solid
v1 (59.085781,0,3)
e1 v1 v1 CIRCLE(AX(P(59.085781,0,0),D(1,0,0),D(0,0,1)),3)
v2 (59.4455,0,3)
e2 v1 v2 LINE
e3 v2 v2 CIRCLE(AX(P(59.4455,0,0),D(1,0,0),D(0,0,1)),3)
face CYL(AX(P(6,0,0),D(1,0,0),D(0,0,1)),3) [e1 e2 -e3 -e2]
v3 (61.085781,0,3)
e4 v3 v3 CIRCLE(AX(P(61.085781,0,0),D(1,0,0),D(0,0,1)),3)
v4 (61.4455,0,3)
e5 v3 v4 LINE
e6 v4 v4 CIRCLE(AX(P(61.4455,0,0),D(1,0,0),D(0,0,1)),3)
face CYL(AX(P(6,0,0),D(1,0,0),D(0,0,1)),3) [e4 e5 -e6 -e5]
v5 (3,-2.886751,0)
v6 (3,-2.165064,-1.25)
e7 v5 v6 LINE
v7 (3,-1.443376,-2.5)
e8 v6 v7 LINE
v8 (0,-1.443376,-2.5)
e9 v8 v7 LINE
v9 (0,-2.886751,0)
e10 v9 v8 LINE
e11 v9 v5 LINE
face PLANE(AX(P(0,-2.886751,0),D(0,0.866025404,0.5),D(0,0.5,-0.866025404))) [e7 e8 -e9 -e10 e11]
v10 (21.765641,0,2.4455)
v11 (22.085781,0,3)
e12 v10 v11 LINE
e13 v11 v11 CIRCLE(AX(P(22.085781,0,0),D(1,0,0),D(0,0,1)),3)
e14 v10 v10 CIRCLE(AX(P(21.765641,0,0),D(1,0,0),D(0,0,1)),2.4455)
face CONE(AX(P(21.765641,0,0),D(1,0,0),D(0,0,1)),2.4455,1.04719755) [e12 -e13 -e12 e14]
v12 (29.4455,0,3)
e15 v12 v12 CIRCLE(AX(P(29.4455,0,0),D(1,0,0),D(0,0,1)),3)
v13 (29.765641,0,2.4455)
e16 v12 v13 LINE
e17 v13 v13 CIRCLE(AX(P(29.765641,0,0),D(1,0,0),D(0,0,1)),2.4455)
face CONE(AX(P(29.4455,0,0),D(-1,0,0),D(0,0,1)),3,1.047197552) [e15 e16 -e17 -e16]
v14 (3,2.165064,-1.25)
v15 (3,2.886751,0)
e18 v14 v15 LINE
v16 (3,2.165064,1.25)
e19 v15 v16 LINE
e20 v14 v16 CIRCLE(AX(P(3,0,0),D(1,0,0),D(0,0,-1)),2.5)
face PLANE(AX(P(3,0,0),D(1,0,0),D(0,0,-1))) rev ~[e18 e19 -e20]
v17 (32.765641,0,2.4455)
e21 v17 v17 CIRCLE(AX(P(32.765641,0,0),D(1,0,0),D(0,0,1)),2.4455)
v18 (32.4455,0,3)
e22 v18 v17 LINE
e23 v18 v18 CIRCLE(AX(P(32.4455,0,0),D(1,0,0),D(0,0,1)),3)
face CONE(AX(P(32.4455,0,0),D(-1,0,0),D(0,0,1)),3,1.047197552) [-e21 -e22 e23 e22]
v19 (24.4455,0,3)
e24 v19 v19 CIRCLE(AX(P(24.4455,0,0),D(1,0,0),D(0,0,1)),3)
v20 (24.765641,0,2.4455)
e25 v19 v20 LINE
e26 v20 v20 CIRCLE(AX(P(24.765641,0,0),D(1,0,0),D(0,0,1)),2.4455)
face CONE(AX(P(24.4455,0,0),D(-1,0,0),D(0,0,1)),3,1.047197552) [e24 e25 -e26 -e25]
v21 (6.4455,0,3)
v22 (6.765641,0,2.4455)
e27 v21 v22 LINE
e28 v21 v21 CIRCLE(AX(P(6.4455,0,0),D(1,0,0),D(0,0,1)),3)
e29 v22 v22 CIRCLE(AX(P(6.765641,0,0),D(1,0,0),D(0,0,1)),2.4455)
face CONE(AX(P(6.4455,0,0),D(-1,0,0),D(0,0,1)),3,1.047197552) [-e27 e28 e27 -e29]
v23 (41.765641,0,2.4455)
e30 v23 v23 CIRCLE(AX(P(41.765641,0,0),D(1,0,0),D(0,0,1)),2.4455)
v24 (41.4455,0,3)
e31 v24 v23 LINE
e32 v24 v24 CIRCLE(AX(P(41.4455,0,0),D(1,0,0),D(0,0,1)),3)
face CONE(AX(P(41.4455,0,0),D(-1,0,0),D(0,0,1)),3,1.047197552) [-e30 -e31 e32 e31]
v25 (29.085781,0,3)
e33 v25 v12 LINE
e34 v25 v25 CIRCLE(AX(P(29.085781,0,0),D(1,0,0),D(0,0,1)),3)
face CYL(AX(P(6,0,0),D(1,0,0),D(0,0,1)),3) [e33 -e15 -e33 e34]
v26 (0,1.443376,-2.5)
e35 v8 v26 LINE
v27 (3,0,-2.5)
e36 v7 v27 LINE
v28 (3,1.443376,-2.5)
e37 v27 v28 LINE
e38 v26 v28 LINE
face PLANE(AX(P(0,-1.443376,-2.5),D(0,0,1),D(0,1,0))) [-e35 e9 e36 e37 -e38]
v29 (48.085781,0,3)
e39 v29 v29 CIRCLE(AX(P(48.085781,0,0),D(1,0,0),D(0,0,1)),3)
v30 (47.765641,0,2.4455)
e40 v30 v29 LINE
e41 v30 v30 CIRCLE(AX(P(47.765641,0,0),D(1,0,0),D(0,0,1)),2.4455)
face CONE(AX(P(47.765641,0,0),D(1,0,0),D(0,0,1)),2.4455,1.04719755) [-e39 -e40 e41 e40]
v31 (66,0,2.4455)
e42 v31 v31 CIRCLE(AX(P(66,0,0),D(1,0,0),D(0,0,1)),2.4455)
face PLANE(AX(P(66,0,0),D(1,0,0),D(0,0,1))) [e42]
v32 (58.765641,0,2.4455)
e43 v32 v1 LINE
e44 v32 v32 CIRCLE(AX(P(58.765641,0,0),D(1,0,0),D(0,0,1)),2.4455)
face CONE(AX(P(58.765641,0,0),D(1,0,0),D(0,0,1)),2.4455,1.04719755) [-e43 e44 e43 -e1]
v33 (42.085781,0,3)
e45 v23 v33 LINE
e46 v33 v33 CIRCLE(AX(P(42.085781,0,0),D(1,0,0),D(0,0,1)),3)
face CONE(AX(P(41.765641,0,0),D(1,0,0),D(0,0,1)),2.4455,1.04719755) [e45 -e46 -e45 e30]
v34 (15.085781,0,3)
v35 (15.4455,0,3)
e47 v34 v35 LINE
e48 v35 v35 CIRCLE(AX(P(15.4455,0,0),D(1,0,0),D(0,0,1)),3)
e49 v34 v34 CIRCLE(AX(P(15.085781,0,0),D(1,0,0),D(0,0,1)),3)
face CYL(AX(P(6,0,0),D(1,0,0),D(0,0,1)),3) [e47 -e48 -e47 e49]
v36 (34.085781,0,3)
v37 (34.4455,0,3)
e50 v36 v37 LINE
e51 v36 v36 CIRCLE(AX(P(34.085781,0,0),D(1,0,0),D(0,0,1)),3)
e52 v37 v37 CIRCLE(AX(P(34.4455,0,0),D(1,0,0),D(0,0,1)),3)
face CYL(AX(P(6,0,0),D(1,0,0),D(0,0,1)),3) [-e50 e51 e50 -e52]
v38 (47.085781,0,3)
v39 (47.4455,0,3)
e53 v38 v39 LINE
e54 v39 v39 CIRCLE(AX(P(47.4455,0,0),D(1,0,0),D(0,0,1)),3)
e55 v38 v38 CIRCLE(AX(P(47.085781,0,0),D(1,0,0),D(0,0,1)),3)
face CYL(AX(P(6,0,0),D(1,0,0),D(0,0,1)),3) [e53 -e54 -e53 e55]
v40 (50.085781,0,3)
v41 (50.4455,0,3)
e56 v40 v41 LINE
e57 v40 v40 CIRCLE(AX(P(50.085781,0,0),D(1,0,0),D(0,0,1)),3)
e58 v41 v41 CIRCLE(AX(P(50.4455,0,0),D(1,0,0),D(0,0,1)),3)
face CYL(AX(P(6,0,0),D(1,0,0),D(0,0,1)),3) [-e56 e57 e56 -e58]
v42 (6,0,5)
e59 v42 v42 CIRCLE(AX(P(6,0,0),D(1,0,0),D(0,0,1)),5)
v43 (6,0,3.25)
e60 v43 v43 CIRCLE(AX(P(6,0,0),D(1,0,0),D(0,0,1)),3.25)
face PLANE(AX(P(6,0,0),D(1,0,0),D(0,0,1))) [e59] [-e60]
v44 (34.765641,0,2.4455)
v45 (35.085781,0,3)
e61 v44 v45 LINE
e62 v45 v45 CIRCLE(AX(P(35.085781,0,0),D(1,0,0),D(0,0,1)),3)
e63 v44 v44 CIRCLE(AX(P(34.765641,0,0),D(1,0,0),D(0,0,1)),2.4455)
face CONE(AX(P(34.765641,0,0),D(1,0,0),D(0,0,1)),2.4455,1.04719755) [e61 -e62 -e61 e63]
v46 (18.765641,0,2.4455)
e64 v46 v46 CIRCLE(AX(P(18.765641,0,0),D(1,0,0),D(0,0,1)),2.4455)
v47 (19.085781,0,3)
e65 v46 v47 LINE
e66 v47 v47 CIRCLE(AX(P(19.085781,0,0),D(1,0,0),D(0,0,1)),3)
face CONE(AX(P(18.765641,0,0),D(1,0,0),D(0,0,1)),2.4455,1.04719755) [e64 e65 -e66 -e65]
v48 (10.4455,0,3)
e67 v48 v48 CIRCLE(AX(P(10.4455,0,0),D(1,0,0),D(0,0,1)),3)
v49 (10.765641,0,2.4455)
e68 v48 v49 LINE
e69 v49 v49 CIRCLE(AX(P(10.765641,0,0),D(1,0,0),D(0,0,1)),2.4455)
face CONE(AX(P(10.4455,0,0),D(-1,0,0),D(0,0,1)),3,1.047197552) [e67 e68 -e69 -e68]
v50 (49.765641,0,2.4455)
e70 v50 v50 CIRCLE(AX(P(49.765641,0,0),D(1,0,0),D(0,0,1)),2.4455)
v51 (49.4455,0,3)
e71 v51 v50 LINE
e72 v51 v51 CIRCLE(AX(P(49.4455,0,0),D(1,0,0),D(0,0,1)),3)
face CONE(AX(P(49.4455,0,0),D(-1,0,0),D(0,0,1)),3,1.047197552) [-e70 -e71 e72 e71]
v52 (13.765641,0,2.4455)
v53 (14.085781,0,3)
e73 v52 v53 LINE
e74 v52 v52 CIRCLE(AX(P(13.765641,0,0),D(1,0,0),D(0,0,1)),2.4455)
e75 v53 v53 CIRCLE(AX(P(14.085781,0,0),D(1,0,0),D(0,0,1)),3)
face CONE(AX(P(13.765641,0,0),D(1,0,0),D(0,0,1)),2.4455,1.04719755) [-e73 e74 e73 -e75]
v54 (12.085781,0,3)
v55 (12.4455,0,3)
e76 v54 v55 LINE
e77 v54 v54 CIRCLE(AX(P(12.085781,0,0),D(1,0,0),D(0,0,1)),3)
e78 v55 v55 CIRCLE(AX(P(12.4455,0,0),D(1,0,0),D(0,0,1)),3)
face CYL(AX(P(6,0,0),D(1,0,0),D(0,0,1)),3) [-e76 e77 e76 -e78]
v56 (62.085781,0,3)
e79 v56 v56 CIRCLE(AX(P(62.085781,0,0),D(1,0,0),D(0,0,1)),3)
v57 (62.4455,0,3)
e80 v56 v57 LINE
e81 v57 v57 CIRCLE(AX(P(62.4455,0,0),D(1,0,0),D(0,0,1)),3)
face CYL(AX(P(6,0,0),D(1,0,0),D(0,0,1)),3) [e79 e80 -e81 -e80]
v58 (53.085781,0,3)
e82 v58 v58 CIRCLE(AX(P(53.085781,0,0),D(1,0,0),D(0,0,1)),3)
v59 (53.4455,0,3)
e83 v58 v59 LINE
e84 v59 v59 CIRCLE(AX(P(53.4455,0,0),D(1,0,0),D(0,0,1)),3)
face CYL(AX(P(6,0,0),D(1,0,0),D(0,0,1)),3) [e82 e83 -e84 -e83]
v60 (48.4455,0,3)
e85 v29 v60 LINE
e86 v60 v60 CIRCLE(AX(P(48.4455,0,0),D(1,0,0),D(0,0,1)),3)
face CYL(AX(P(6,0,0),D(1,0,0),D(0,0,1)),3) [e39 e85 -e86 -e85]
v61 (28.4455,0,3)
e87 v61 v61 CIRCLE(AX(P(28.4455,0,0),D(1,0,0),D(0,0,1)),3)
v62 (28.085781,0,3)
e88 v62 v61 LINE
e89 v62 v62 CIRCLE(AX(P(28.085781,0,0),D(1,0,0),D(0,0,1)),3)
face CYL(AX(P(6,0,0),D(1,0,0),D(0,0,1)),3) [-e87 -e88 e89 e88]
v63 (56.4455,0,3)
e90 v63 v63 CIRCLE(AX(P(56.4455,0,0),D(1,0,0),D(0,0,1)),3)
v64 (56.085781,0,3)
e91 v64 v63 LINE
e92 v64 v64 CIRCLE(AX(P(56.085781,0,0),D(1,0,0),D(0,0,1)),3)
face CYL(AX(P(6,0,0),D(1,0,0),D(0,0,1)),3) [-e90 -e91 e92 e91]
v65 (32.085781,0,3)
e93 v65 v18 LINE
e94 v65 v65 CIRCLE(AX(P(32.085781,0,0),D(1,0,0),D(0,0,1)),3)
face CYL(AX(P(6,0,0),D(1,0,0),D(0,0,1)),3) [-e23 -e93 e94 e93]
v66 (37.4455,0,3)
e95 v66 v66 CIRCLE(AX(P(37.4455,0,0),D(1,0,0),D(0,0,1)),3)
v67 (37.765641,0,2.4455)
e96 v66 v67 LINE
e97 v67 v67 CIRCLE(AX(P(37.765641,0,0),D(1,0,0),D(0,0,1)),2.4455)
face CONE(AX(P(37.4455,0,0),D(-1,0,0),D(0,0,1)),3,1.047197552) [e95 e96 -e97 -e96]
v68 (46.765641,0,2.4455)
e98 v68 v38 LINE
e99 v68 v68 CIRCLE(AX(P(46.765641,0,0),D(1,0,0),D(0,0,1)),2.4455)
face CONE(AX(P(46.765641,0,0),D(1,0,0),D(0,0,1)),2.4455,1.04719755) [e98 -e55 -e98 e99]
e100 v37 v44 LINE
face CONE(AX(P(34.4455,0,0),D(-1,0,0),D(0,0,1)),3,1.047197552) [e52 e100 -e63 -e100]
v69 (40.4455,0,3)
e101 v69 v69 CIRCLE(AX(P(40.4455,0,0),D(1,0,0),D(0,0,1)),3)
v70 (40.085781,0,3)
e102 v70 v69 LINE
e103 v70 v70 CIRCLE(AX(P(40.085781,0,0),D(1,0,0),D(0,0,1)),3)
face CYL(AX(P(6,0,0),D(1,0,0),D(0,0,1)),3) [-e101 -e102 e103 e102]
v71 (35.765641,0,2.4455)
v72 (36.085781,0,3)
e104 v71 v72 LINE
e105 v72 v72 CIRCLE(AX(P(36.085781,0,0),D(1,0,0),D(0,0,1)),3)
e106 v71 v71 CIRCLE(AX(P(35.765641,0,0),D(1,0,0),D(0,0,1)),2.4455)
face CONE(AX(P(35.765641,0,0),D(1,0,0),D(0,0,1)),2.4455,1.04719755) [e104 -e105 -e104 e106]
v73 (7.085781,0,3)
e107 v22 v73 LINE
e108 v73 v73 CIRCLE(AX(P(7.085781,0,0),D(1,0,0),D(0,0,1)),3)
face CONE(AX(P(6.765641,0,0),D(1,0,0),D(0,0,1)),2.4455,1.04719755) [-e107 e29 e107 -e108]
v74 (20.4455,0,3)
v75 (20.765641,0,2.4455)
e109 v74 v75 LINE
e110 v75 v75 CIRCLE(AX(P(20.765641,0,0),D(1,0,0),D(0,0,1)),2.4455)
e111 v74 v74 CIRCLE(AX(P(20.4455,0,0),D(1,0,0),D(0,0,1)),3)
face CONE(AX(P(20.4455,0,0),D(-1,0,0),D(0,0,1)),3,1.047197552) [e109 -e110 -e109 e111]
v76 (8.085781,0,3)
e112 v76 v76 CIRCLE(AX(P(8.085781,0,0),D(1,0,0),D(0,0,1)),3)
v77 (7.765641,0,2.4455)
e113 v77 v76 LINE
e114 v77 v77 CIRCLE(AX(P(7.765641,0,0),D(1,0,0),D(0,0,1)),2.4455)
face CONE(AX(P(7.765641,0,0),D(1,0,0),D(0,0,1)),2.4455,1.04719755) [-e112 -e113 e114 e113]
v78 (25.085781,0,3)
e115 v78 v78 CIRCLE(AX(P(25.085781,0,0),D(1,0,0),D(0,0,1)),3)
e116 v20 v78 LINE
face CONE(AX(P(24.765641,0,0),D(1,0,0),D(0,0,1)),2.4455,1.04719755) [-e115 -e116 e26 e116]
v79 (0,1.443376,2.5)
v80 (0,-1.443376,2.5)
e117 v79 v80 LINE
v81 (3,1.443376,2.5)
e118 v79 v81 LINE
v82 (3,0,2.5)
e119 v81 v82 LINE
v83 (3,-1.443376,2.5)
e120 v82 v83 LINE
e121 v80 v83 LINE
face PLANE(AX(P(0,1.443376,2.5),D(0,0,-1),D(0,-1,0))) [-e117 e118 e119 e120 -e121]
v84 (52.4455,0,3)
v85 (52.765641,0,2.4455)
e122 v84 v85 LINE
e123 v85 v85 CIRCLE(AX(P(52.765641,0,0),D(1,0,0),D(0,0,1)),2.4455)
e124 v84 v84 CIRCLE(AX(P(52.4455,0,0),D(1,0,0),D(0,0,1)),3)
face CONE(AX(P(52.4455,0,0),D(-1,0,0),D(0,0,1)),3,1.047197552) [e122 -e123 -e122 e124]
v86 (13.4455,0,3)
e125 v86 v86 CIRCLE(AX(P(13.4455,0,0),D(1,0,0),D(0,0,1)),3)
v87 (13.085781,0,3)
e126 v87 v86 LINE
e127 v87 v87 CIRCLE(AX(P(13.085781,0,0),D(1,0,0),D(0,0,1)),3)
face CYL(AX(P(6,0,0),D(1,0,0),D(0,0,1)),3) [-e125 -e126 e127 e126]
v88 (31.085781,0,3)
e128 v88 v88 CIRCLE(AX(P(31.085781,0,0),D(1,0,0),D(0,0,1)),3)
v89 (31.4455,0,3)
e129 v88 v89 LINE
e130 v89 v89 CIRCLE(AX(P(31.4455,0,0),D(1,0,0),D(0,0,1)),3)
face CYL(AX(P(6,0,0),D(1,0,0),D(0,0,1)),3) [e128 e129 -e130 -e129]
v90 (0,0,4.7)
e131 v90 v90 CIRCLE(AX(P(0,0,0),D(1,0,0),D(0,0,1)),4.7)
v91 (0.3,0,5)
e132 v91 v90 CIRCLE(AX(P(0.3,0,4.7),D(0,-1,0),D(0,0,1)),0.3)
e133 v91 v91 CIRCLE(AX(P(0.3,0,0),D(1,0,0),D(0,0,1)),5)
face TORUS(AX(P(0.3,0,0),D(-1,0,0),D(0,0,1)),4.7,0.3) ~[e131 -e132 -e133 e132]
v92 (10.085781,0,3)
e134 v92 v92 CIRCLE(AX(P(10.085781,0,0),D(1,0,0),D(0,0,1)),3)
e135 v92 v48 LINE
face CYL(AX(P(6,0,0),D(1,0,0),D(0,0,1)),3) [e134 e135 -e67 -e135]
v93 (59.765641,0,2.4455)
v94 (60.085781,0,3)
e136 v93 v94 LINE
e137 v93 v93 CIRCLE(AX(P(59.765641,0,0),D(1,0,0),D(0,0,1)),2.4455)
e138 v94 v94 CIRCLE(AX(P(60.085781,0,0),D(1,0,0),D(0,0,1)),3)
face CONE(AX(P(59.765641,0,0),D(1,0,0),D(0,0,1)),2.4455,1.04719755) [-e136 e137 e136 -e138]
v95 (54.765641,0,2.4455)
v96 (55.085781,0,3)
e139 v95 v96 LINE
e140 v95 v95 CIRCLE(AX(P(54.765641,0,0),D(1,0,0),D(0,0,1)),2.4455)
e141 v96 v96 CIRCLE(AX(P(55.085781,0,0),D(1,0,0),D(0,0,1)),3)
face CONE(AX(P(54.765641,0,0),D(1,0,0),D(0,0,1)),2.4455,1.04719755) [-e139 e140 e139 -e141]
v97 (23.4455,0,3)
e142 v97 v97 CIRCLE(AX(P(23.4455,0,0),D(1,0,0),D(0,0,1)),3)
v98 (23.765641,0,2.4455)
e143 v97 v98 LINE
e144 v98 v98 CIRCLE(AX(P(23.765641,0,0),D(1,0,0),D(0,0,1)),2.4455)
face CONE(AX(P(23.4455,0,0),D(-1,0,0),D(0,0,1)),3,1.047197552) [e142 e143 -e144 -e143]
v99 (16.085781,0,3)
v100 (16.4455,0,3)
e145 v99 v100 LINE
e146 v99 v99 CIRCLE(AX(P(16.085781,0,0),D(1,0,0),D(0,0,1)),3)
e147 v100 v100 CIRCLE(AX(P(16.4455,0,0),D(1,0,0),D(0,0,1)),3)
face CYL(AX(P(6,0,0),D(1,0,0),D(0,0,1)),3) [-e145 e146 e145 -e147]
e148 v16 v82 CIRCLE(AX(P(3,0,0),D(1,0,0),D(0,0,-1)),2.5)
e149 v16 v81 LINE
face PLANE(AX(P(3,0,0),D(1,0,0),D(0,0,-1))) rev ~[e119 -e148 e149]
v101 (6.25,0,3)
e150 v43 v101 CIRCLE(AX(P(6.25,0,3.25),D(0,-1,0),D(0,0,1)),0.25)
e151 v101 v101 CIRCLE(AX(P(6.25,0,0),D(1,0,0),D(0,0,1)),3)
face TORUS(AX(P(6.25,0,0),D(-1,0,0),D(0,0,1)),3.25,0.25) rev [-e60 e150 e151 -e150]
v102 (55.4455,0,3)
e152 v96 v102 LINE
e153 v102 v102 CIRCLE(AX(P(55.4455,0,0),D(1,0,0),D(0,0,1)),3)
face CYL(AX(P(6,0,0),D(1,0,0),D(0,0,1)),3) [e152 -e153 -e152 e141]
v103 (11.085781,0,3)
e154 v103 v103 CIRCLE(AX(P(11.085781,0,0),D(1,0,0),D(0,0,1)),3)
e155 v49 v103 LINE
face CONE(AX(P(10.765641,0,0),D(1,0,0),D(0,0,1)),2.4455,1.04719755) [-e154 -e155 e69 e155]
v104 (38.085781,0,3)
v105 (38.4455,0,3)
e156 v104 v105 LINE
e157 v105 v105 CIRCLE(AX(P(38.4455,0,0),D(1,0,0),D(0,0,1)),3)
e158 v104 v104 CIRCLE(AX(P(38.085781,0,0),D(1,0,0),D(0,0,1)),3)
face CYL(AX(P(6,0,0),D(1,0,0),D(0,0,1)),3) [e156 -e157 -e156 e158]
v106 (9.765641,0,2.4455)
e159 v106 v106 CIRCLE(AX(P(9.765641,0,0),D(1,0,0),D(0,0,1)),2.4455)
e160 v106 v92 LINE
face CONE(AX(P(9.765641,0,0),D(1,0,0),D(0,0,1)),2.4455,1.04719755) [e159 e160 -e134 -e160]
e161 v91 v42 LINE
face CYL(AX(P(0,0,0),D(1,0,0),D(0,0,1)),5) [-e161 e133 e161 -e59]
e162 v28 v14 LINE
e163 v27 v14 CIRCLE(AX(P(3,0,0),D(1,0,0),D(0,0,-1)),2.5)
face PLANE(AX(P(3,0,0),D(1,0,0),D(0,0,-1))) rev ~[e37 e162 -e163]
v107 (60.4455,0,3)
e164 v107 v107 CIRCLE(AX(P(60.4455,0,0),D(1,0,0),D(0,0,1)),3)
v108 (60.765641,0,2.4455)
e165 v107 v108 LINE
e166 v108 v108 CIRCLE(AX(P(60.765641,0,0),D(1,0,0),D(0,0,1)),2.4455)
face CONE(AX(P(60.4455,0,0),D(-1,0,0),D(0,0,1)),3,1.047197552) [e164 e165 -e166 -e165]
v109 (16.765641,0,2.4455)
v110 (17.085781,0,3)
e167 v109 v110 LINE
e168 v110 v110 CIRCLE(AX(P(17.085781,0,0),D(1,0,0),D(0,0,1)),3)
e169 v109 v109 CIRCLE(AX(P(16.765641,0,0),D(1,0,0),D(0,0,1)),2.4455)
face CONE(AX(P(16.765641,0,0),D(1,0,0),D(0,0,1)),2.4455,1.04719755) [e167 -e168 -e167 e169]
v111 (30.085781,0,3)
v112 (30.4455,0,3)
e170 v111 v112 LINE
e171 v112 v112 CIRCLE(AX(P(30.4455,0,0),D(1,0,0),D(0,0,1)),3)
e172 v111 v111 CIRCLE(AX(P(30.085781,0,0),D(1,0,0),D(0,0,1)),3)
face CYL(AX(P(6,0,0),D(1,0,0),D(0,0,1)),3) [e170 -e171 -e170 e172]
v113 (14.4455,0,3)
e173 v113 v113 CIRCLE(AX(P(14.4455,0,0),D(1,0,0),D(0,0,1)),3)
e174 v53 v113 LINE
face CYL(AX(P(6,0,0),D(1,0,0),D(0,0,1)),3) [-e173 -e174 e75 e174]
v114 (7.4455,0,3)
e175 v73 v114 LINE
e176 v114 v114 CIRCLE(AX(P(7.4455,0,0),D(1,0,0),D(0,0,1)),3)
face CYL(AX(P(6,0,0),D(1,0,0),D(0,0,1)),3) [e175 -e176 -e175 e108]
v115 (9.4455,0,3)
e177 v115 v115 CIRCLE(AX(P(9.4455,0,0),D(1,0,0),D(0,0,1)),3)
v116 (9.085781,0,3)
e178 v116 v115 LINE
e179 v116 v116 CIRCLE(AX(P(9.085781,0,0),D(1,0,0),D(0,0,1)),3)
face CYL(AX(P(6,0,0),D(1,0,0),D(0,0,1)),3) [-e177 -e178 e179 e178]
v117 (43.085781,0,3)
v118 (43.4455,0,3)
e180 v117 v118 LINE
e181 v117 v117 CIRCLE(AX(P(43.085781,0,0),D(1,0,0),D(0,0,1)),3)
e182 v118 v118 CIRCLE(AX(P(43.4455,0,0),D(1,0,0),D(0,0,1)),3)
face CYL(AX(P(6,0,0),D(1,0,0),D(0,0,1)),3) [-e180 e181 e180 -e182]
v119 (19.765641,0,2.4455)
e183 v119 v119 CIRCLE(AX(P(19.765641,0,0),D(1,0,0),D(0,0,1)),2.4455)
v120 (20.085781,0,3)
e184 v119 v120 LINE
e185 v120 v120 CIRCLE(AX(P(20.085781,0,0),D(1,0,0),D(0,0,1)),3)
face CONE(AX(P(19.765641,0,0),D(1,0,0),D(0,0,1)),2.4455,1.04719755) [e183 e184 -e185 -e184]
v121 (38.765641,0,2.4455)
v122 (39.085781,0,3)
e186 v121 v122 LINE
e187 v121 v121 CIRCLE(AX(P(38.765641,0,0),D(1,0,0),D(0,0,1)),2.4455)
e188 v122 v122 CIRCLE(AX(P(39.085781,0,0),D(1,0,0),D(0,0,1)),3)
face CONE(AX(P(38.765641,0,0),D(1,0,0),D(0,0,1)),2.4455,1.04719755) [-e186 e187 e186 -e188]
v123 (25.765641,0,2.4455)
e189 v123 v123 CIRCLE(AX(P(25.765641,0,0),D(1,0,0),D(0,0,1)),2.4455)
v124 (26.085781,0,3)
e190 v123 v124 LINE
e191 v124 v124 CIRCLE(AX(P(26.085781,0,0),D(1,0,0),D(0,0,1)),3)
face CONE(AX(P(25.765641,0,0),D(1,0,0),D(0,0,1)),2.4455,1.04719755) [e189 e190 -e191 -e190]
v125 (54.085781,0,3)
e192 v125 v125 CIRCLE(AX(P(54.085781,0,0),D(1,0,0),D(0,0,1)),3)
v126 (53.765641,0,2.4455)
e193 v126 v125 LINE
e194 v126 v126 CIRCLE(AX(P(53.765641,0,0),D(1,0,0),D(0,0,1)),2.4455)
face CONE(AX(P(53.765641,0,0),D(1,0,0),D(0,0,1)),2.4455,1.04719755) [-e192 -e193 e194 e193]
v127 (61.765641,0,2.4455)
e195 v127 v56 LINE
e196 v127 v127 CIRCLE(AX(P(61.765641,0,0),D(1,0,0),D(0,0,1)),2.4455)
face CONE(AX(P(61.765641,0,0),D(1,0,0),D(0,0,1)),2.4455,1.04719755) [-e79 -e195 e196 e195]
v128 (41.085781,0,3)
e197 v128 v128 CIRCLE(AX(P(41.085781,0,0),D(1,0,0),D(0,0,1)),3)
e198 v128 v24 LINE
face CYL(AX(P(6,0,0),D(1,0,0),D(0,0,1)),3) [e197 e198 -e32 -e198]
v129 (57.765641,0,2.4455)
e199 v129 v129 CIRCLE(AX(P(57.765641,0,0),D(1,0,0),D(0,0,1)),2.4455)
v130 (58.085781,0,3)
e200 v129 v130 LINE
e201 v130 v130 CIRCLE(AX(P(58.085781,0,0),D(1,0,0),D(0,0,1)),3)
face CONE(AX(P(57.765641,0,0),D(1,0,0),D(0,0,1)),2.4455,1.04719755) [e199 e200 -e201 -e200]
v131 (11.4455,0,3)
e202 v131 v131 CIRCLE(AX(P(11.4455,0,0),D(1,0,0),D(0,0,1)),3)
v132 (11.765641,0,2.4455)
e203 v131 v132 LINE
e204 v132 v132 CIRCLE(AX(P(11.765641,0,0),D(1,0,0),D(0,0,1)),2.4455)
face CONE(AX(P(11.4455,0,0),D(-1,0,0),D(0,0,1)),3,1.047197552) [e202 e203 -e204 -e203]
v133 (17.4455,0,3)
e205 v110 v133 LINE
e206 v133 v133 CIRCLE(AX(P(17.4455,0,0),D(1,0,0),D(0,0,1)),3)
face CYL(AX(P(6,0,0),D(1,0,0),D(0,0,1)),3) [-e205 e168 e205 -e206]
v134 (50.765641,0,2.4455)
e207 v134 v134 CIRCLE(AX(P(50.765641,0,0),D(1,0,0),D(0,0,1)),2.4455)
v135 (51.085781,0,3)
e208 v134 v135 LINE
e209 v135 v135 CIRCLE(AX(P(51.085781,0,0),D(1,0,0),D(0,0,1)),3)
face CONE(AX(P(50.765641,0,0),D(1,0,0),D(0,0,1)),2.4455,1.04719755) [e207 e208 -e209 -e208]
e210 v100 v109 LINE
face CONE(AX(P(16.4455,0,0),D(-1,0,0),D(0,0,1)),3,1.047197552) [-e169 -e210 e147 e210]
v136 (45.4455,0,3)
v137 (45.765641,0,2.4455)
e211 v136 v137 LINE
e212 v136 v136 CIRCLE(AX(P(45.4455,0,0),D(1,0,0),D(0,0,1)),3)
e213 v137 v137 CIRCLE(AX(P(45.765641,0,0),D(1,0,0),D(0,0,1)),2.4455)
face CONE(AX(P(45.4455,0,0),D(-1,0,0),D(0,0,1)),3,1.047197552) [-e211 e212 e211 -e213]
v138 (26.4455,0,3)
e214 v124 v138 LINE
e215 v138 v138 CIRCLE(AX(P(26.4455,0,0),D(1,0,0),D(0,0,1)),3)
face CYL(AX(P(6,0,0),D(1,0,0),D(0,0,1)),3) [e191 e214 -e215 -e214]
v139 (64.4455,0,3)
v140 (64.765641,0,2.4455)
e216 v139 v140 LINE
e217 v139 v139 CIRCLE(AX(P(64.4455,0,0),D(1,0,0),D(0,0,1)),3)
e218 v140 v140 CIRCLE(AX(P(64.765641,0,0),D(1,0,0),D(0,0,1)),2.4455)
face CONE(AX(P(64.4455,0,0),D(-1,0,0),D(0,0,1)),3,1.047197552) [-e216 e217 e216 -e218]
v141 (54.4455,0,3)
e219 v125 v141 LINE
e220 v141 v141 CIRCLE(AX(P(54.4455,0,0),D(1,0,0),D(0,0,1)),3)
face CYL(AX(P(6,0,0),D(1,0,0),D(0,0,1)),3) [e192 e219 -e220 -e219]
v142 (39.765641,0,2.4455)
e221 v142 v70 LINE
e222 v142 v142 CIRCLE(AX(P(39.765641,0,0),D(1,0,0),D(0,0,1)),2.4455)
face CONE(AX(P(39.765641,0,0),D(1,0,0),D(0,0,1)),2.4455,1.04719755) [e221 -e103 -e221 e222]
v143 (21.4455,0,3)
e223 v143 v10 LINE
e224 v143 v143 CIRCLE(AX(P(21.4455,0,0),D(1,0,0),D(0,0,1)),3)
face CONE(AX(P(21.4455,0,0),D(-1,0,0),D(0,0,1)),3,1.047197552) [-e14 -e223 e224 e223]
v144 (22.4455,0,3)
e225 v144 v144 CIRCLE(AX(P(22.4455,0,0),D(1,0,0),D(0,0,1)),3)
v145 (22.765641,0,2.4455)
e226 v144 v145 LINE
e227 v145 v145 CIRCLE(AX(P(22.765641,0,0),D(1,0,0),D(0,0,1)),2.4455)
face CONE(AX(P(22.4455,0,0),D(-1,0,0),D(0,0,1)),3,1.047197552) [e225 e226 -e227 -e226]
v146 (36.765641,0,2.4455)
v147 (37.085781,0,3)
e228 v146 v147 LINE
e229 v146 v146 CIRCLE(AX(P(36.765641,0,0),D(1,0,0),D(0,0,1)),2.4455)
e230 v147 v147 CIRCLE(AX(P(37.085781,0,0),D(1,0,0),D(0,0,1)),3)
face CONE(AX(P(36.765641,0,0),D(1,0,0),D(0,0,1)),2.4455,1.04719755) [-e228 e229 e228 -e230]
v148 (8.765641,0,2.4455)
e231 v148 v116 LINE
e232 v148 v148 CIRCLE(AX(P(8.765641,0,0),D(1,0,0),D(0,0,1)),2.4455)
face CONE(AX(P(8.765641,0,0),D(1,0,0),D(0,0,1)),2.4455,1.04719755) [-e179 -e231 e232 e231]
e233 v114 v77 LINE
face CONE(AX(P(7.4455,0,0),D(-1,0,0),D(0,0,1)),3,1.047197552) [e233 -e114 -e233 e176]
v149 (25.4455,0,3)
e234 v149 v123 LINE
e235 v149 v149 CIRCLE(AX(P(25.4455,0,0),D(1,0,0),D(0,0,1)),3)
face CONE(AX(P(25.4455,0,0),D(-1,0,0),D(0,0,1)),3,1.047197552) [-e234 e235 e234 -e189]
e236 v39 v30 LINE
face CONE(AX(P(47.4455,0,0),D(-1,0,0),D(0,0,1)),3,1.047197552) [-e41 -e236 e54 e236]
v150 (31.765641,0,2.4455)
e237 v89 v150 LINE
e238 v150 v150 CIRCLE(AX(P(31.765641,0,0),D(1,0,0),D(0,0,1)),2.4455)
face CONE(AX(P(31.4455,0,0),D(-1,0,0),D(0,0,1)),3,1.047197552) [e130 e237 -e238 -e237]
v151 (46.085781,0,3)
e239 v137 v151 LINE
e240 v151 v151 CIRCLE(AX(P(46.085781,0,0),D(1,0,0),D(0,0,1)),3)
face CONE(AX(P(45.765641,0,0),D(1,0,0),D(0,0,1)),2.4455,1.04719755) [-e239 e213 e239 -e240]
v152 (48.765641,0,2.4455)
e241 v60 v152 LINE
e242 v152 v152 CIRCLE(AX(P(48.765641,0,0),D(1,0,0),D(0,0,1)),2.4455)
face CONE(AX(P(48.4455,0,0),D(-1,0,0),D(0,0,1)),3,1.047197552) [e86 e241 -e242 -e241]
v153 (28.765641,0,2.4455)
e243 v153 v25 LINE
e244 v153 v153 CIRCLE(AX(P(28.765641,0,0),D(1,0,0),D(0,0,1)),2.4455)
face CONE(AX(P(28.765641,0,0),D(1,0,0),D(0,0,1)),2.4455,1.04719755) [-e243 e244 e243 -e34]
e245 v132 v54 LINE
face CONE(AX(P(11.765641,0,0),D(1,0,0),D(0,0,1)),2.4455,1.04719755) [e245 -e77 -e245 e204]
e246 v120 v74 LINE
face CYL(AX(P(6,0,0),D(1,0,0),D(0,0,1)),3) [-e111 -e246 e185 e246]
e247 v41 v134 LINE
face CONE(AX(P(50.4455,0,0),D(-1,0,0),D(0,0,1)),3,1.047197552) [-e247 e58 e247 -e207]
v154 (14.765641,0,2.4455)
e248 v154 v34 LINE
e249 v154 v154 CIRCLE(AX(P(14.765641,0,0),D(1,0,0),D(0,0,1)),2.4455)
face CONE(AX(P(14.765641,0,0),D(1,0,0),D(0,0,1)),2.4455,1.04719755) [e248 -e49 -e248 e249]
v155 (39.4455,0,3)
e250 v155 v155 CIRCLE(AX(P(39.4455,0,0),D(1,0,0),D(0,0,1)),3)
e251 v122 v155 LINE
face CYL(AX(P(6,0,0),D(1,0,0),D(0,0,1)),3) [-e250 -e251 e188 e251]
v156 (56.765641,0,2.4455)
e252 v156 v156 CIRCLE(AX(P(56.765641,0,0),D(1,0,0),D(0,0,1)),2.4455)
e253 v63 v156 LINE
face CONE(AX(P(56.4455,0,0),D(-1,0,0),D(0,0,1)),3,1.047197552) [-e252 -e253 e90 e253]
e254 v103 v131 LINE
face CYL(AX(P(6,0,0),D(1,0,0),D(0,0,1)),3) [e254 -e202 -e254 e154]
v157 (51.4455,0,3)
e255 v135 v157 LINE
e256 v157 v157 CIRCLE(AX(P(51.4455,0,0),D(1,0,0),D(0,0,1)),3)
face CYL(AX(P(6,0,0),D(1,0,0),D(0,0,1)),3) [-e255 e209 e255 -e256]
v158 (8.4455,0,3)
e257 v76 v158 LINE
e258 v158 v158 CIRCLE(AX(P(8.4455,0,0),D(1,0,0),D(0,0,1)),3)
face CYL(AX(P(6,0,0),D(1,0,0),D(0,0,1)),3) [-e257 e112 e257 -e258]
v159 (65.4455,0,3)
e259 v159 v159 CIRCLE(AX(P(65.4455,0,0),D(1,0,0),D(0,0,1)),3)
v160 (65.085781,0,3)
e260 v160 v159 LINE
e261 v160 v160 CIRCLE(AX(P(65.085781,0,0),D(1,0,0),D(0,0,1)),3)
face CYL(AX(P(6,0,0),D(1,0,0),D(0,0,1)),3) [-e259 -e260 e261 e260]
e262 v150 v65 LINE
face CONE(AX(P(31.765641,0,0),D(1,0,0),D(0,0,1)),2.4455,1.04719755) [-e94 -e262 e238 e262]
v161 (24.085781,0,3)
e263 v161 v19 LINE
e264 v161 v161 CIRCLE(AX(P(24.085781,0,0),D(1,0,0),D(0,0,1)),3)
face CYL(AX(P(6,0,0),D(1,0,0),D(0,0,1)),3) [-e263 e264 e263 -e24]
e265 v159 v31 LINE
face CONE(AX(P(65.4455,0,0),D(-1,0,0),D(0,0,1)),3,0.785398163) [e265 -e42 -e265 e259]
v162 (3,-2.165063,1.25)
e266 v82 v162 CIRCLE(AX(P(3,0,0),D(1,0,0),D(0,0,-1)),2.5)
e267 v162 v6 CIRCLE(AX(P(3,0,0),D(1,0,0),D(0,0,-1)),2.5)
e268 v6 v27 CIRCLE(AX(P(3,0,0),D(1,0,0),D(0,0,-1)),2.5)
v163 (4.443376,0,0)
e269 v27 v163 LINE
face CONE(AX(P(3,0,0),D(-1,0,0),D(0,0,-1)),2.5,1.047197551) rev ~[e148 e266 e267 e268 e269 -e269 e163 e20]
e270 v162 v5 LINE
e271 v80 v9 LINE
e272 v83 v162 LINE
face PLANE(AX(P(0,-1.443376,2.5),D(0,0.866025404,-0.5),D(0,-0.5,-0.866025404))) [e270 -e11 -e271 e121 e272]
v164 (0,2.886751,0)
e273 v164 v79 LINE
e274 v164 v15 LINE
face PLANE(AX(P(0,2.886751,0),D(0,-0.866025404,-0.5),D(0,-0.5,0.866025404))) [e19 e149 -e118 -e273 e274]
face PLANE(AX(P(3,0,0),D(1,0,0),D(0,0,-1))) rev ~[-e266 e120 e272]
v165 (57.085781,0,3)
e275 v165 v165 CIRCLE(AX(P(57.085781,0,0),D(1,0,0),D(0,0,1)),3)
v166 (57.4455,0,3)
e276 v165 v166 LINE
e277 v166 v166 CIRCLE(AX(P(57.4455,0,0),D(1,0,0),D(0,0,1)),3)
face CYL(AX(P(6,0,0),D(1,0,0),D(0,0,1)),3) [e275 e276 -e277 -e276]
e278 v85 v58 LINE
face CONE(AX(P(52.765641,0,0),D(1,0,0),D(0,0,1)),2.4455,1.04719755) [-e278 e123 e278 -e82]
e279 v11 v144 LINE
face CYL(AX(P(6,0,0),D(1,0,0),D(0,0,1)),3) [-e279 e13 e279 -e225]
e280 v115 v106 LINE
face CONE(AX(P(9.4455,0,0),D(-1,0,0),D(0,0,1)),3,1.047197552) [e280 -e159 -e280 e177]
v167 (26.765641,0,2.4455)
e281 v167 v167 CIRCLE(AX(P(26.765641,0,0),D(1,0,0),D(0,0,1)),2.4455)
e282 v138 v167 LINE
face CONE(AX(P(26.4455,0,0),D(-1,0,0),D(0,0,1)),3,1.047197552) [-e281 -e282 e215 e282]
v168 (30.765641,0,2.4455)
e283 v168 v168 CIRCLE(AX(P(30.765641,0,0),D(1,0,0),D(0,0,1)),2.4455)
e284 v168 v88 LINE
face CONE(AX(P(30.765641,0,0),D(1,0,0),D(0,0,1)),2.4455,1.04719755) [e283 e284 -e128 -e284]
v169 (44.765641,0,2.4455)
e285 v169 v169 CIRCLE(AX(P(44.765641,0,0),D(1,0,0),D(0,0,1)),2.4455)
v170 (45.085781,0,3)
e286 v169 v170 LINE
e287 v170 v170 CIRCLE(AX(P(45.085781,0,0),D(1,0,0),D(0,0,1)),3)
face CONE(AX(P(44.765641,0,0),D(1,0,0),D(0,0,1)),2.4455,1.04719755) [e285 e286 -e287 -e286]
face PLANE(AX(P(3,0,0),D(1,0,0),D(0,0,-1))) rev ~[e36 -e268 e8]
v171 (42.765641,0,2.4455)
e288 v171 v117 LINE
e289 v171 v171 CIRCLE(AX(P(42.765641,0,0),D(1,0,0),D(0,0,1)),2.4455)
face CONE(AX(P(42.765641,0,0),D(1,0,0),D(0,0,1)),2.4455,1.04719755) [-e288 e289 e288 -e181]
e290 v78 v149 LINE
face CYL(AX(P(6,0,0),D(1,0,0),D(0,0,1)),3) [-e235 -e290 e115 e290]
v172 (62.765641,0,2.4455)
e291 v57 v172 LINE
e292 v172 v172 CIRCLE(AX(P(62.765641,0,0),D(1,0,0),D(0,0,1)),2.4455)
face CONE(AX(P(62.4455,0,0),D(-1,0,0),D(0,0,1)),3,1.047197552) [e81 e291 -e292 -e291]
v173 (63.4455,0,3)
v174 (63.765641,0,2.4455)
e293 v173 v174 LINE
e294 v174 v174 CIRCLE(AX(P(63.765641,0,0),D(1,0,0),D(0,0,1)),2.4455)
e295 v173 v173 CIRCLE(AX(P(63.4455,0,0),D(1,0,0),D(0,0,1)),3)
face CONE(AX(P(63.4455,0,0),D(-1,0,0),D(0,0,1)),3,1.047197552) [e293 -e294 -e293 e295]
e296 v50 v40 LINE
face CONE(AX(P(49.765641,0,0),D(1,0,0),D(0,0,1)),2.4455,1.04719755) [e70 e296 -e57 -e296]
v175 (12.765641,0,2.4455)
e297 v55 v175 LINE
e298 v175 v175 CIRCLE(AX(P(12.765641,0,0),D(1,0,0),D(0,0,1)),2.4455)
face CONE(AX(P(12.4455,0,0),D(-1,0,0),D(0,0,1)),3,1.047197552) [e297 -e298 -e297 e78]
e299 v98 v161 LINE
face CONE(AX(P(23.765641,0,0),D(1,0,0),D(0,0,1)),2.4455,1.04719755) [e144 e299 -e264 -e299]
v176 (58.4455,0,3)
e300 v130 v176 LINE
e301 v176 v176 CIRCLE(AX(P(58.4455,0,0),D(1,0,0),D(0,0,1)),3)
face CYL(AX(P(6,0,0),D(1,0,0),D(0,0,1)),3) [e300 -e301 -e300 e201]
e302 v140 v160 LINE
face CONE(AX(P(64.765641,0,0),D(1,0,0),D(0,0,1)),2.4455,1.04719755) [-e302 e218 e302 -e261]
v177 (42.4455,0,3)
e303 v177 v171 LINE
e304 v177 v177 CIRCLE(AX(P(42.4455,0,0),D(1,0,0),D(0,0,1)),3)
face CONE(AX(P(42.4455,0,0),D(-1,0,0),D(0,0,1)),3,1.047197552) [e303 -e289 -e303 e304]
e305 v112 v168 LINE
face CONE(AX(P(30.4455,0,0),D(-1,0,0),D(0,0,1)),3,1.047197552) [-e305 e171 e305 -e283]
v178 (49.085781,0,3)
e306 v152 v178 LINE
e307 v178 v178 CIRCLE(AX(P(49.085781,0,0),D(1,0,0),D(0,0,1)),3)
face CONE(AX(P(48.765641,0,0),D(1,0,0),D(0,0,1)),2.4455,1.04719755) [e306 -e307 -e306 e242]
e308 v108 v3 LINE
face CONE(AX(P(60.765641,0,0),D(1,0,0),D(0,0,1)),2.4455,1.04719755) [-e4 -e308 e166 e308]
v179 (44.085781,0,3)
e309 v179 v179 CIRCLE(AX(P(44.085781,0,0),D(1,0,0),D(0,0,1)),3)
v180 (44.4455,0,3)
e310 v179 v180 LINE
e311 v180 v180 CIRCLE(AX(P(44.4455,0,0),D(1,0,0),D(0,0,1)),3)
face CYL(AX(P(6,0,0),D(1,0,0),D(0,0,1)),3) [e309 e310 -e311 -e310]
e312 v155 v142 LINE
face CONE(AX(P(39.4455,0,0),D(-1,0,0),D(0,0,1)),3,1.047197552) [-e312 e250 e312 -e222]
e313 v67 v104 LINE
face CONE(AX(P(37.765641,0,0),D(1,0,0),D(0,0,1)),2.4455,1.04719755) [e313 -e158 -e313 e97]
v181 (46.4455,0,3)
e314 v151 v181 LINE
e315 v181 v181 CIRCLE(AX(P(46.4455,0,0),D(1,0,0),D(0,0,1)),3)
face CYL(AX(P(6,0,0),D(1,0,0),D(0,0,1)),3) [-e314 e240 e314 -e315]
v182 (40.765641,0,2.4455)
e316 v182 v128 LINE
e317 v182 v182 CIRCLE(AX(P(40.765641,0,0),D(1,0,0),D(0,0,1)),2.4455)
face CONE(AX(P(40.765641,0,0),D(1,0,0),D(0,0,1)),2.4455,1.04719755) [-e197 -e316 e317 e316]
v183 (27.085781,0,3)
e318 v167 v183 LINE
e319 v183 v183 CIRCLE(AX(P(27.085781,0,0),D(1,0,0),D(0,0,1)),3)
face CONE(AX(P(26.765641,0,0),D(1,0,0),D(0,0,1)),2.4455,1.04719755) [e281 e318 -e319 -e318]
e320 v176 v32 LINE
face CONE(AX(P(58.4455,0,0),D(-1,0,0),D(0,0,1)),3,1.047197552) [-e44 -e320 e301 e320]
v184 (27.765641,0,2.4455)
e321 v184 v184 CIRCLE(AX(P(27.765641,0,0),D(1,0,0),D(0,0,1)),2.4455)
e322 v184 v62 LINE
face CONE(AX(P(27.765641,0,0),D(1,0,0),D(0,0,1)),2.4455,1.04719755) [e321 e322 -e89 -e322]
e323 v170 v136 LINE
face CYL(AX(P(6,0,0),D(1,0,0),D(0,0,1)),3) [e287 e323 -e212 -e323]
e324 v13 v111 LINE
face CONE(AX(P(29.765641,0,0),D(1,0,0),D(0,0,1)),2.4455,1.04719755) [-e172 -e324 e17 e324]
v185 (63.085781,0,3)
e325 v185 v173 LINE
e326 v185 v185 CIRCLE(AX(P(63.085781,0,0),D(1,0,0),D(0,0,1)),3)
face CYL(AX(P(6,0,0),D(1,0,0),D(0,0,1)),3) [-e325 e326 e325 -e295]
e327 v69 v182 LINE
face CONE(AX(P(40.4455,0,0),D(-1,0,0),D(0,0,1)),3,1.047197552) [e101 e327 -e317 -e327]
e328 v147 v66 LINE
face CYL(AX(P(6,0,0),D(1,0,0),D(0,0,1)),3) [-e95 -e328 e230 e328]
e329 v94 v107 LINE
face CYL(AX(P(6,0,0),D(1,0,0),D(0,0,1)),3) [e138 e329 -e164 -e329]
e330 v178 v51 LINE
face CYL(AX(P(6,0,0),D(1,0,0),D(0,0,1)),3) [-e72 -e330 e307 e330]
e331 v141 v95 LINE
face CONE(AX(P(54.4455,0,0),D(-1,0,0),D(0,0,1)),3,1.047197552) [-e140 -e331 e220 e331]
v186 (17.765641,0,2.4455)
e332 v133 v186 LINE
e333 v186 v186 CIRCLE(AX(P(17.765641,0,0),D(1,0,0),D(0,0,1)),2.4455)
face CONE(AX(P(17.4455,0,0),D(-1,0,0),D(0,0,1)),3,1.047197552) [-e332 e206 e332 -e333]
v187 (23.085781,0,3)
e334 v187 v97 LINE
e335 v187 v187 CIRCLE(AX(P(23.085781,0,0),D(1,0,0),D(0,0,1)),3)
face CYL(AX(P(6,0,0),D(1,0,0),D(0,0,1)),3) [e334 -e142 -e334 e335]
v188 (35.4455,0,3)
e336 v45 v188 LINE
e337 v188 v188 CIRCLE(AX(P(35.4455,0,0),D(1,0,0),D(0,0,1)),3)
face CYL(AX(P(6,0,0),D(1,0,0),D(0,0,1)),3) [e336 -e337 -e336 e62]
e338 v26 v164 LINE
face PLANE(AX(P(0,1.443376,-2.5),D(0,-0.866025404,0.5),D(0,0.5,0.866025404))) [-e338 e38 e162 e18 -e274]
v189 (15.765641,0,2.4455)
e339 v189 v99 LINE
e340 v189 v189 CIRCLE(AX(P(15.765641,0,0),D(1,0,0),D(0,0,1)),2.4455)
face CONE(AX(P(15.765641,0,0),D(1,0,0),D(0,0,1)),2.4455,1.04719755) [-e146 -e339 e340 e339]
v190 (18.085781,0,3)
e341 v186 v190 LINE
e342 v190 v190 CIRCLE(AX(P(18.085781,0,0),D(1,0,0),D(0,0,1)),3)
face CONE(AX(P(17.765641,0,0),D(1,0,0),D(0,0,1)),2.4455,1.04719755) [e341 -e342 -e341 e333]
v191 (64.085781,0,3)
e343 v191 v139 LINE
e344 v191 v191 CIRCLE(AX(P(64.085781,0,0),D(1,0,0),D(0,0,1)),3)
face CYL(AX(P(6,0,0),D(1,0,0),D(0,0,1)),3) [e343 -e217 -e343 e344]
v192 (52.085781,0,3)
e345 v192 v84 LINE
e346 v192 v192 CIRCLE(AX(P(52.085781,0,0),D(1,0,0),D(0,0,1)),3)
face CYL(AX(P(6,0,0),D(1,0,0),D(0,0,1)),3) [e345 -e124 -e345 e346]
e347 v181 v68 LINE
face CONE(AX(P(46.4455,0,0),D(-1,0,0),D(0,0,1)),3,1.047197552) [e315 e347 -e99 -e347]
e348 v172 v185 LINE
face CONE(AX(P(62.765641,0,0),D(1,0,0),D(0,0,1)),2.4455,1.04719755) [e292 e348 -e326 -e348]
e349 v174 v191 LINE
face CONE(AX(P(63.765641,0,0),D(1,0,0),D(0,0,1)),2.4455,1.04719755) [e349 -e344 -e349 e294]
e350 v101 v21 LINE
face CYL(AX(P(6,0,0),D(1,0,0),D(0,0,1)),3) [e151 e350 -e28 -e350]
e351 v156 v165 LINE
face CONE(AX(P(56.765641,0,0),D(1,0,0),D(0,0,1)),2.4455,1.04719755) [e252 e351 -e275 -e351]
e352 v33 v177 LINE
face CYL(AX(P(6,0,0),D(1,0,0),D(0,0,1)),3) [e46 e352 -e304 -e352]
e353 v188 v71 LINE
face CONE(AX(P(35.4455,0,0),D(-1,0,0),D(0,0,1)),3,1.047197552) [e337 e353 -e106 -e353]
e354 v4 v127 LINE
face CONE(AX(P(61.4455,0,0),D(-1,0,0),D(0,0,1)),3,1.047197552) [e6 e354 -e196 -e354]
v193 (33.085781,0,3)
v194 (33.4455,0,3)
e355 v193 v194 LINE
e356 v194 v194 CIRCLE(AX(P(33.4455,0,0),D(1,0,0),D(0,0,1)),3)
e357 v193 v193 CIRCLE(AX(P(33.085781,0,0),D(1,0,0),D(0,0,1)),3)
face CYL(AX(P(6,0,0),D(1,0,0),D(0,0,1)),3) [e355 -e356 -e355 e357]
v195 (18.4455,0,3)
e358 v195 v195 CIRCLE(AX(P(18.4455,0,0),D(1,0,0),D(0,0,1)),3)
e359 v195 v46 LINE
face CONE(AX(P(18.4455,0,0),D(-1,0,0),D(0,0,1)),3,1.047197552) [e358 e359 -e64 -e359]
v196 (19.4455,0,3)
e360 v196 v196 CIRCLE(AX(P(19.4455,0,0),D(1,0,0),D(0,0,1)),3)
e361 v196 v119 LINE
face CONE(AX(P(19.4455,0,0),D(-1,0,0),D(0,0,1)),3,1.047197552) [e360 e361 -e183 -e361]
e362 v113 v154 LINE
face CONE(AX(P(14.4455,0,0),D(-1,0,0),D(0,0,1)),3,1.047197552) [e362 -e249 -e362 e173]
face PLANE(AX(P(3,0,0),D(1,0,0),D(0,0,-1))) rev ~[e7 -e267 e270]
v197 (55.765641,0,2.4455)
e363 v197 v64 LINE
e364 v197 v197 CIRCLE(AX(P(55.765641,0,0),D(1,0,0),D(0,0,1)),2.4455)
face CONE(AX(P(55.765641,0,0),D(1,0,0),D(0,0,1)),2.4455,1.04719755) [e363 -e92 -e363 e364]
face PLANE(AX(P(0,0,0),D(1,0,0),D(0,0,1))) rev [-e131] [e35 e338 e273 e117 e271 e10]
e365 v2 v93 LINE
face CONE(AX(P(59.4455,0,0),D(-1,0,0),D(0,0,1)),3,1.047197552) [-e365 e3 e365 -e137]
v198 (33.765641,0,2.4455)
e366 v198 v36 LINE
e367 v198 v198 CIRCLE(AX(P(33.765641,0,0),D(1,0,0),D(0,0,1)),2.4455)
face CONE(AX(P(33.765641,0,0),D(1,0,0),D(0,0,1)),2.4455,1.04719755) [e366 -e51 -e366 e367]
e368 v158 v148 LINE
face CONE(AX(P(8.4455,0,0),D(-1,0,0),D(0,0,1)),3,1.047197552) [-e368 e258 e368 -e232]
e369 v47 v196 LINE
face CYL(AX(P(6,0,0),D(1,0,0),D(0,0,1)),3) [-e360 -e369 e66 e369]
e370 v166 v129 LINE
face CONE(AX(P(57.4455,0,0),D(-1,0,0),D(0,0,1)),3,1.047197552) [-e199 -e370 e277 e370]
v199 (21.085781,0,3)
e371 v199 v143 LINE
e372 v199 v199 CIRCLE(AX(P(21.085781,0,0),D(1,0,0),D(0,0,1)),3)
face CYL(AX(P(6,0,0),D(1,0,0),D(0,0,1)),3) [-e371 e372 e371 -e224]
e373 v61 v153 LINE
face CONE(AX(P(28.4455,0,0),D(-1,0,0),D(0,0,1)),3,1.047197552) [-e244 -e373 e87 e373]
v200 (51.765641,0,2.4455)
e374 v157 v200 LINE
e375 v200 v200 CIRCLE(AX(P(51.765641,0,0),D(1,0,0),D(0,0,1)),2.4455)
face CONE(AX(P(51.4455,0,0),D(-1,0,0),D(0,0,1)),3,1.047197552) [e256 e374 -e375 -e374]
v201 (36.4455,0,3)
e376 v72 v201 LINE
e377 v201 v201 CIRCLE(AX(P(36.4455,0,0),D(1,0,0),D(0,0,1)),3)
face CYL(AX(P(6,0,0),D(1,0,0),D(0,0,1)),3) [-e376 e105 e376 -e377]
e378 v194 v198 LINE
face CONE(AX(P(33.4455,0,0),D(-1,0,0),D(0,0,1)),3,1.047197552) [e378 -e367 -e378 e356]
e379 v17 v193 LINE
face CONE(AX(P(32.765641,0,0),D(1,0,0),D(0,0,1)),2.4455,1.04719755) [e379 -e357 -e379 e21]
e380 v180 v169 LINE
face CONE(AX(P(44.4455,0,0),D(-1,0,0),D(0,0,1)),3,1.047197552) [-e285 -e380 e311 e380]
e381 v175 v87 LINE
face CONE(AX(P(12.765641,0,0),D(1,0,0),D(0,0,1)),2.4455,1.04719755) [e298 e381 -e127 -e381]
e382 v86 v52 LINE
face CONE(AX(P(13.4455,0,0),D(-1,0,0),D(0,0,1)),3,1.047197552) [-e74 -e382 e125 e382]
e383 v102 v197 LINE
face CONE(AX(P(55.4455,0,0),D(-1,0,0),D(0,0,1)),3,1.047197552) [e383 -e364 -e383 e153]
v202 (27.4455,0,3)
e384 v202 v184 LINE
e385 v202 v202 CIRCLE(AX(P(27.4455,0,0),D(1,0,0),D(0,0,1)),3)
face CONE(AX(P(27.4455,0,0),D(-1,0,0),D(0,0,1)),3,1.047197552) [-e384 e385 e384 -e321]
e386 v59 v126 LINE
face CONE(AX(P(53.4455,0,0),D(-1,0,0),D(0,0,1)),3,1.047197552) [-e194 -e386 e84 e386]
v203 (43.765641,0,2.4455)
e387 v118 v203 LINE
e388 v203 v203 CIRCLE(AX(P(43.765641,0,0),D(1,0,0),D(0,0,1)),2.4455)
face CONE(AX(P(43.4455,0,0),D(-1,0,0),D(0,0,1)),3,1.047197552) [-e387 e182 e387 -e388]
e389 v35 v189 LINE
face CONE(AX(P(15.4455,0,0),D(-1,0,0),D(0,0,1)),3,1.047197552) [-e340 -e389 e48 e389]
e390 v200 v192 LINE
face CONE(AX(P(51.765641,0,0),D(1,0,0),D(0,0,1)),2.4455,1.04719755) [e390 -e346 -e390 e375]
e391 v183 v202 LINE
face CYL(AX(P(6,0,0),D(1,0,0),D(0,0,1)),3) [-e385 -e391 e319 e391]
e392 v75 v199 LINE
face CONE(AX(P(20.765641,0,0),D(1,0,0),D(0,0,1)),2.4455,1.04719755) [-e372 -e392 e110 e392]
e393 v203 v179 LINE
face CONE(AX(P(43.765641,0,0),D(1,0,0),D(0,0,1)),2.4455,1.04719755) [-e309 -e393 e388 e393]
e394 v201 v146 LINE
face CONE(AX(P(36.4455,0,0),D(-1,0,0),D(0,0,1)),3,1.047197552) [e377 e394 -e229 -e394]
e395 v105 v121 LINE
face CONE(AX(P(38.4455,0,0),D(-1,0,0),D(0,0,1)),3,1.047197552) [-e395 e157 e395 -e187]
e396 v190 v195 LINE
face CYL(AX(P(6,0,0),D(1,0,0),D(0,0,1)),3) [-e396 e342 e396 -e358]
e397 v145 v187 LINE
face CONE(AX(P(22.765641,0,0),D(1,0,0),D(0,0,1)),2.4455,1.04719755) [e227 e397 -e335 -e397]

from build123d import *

# Parameters (mm, degrees)
FILLET1_R       = 0.25
FILLET2_R       = 0.3
HEX_2_DEPTH     = 3
THDSCHPAT_COUNT = 59
THDSCHPAT_PITCH = 1


with BuildPart() as part:
    # BodySke → BaseBody (revolve)
    with BuildSketch(Plane.XY, mode=Mode.PRIVATE) as basebody_sk:
        Polygon((0, 0), (0, 5), (6, 5), (6, 3), (65.4455, 3), (66, 2.4455), (66, 0), align=None)
    revolve(basebody_sk.sketch.rotate(Axis((0, 0, 0), (1, 0, 0)), 90), axis=Axis((0, 0, 0), (1, 0, 0)))

    # Fillet1
    fillet1_edges = [part.edges().sort_by_distance(p)[0] for p in [
        (6, 0, -3),
    ]]
    fillet(fillet1_edges, radius=FILLET1_R)

    # Fillet2
    fillet2_edges = [part.edges().sort_by_distance(p)[0] for p in [
        (0, 0, -5),
    ]]
    fillet(fillet2_edges, radius=FILLET2_R)

    # HexSke → Hex 2 (cut)
    with BuildSketch(Plane(origin=(0, 0, 0), x_dir=(0, 0, -1), z_dir=(1, 0, 0))):
        Polygon((0, 2.886751346), (-2.5, 1.443375673), (-2.5, -1.443375673), (0, -2.886751346), (2.5, -1.443375673), (2.5, 1.443375673), align=None)
    extrude(amount=HEX_2_DEPTH, mode=Mode.SUBTRACT)

    # Hex-PreBroachSke → Hex-PreBroach (revolve, cut)
    with BuildSketch(Plane.XY, mode=Mode.PRIVATE) as hex_prebroach_sk:
        Polygon((0, 0), (0, 2.5), (3, 2.5), (4.443375673, 0), align=None)
    revolve(hex_prebroach_sk.sketch.rotate(Axis((0, 0, 0), (1, 0, 0)), 270), axis=Axis((0, 0, 0), (1, 0, 0)), mode=Mode.SUBTRACT)

    # ThdSchSke → ThreadSchematic (revolve, cut)
    with BuildSketch(Plane.XY, mode=Mode.PRIVATE) as threadschematic_sk:
        Polygon((64.4455, 3.640281449), (64.4455, 3), (64.765640724, 2.4455), (65.085781449, 3), (65.085781449, 3.640281449), align=None)
    threadschematic = revolve(threadschematic_sk.sketch.rotate(Axis((0, 0, 0), (1, 0, 0)), 90), axis=Axis((0, 0, 0), (1, 0, 0)), mode=Mode.SUBTRACT)

    # ThdSchPat: ThreadSchematic ×59
    with Locations(*[(-i * THDSCHPAT_PITCH, 0, 0) for i in range(1, THDSCHPAT_COUNT)]):
        add(threadschematic, mode=Mode.SUBTRACT)


solid = part.part
